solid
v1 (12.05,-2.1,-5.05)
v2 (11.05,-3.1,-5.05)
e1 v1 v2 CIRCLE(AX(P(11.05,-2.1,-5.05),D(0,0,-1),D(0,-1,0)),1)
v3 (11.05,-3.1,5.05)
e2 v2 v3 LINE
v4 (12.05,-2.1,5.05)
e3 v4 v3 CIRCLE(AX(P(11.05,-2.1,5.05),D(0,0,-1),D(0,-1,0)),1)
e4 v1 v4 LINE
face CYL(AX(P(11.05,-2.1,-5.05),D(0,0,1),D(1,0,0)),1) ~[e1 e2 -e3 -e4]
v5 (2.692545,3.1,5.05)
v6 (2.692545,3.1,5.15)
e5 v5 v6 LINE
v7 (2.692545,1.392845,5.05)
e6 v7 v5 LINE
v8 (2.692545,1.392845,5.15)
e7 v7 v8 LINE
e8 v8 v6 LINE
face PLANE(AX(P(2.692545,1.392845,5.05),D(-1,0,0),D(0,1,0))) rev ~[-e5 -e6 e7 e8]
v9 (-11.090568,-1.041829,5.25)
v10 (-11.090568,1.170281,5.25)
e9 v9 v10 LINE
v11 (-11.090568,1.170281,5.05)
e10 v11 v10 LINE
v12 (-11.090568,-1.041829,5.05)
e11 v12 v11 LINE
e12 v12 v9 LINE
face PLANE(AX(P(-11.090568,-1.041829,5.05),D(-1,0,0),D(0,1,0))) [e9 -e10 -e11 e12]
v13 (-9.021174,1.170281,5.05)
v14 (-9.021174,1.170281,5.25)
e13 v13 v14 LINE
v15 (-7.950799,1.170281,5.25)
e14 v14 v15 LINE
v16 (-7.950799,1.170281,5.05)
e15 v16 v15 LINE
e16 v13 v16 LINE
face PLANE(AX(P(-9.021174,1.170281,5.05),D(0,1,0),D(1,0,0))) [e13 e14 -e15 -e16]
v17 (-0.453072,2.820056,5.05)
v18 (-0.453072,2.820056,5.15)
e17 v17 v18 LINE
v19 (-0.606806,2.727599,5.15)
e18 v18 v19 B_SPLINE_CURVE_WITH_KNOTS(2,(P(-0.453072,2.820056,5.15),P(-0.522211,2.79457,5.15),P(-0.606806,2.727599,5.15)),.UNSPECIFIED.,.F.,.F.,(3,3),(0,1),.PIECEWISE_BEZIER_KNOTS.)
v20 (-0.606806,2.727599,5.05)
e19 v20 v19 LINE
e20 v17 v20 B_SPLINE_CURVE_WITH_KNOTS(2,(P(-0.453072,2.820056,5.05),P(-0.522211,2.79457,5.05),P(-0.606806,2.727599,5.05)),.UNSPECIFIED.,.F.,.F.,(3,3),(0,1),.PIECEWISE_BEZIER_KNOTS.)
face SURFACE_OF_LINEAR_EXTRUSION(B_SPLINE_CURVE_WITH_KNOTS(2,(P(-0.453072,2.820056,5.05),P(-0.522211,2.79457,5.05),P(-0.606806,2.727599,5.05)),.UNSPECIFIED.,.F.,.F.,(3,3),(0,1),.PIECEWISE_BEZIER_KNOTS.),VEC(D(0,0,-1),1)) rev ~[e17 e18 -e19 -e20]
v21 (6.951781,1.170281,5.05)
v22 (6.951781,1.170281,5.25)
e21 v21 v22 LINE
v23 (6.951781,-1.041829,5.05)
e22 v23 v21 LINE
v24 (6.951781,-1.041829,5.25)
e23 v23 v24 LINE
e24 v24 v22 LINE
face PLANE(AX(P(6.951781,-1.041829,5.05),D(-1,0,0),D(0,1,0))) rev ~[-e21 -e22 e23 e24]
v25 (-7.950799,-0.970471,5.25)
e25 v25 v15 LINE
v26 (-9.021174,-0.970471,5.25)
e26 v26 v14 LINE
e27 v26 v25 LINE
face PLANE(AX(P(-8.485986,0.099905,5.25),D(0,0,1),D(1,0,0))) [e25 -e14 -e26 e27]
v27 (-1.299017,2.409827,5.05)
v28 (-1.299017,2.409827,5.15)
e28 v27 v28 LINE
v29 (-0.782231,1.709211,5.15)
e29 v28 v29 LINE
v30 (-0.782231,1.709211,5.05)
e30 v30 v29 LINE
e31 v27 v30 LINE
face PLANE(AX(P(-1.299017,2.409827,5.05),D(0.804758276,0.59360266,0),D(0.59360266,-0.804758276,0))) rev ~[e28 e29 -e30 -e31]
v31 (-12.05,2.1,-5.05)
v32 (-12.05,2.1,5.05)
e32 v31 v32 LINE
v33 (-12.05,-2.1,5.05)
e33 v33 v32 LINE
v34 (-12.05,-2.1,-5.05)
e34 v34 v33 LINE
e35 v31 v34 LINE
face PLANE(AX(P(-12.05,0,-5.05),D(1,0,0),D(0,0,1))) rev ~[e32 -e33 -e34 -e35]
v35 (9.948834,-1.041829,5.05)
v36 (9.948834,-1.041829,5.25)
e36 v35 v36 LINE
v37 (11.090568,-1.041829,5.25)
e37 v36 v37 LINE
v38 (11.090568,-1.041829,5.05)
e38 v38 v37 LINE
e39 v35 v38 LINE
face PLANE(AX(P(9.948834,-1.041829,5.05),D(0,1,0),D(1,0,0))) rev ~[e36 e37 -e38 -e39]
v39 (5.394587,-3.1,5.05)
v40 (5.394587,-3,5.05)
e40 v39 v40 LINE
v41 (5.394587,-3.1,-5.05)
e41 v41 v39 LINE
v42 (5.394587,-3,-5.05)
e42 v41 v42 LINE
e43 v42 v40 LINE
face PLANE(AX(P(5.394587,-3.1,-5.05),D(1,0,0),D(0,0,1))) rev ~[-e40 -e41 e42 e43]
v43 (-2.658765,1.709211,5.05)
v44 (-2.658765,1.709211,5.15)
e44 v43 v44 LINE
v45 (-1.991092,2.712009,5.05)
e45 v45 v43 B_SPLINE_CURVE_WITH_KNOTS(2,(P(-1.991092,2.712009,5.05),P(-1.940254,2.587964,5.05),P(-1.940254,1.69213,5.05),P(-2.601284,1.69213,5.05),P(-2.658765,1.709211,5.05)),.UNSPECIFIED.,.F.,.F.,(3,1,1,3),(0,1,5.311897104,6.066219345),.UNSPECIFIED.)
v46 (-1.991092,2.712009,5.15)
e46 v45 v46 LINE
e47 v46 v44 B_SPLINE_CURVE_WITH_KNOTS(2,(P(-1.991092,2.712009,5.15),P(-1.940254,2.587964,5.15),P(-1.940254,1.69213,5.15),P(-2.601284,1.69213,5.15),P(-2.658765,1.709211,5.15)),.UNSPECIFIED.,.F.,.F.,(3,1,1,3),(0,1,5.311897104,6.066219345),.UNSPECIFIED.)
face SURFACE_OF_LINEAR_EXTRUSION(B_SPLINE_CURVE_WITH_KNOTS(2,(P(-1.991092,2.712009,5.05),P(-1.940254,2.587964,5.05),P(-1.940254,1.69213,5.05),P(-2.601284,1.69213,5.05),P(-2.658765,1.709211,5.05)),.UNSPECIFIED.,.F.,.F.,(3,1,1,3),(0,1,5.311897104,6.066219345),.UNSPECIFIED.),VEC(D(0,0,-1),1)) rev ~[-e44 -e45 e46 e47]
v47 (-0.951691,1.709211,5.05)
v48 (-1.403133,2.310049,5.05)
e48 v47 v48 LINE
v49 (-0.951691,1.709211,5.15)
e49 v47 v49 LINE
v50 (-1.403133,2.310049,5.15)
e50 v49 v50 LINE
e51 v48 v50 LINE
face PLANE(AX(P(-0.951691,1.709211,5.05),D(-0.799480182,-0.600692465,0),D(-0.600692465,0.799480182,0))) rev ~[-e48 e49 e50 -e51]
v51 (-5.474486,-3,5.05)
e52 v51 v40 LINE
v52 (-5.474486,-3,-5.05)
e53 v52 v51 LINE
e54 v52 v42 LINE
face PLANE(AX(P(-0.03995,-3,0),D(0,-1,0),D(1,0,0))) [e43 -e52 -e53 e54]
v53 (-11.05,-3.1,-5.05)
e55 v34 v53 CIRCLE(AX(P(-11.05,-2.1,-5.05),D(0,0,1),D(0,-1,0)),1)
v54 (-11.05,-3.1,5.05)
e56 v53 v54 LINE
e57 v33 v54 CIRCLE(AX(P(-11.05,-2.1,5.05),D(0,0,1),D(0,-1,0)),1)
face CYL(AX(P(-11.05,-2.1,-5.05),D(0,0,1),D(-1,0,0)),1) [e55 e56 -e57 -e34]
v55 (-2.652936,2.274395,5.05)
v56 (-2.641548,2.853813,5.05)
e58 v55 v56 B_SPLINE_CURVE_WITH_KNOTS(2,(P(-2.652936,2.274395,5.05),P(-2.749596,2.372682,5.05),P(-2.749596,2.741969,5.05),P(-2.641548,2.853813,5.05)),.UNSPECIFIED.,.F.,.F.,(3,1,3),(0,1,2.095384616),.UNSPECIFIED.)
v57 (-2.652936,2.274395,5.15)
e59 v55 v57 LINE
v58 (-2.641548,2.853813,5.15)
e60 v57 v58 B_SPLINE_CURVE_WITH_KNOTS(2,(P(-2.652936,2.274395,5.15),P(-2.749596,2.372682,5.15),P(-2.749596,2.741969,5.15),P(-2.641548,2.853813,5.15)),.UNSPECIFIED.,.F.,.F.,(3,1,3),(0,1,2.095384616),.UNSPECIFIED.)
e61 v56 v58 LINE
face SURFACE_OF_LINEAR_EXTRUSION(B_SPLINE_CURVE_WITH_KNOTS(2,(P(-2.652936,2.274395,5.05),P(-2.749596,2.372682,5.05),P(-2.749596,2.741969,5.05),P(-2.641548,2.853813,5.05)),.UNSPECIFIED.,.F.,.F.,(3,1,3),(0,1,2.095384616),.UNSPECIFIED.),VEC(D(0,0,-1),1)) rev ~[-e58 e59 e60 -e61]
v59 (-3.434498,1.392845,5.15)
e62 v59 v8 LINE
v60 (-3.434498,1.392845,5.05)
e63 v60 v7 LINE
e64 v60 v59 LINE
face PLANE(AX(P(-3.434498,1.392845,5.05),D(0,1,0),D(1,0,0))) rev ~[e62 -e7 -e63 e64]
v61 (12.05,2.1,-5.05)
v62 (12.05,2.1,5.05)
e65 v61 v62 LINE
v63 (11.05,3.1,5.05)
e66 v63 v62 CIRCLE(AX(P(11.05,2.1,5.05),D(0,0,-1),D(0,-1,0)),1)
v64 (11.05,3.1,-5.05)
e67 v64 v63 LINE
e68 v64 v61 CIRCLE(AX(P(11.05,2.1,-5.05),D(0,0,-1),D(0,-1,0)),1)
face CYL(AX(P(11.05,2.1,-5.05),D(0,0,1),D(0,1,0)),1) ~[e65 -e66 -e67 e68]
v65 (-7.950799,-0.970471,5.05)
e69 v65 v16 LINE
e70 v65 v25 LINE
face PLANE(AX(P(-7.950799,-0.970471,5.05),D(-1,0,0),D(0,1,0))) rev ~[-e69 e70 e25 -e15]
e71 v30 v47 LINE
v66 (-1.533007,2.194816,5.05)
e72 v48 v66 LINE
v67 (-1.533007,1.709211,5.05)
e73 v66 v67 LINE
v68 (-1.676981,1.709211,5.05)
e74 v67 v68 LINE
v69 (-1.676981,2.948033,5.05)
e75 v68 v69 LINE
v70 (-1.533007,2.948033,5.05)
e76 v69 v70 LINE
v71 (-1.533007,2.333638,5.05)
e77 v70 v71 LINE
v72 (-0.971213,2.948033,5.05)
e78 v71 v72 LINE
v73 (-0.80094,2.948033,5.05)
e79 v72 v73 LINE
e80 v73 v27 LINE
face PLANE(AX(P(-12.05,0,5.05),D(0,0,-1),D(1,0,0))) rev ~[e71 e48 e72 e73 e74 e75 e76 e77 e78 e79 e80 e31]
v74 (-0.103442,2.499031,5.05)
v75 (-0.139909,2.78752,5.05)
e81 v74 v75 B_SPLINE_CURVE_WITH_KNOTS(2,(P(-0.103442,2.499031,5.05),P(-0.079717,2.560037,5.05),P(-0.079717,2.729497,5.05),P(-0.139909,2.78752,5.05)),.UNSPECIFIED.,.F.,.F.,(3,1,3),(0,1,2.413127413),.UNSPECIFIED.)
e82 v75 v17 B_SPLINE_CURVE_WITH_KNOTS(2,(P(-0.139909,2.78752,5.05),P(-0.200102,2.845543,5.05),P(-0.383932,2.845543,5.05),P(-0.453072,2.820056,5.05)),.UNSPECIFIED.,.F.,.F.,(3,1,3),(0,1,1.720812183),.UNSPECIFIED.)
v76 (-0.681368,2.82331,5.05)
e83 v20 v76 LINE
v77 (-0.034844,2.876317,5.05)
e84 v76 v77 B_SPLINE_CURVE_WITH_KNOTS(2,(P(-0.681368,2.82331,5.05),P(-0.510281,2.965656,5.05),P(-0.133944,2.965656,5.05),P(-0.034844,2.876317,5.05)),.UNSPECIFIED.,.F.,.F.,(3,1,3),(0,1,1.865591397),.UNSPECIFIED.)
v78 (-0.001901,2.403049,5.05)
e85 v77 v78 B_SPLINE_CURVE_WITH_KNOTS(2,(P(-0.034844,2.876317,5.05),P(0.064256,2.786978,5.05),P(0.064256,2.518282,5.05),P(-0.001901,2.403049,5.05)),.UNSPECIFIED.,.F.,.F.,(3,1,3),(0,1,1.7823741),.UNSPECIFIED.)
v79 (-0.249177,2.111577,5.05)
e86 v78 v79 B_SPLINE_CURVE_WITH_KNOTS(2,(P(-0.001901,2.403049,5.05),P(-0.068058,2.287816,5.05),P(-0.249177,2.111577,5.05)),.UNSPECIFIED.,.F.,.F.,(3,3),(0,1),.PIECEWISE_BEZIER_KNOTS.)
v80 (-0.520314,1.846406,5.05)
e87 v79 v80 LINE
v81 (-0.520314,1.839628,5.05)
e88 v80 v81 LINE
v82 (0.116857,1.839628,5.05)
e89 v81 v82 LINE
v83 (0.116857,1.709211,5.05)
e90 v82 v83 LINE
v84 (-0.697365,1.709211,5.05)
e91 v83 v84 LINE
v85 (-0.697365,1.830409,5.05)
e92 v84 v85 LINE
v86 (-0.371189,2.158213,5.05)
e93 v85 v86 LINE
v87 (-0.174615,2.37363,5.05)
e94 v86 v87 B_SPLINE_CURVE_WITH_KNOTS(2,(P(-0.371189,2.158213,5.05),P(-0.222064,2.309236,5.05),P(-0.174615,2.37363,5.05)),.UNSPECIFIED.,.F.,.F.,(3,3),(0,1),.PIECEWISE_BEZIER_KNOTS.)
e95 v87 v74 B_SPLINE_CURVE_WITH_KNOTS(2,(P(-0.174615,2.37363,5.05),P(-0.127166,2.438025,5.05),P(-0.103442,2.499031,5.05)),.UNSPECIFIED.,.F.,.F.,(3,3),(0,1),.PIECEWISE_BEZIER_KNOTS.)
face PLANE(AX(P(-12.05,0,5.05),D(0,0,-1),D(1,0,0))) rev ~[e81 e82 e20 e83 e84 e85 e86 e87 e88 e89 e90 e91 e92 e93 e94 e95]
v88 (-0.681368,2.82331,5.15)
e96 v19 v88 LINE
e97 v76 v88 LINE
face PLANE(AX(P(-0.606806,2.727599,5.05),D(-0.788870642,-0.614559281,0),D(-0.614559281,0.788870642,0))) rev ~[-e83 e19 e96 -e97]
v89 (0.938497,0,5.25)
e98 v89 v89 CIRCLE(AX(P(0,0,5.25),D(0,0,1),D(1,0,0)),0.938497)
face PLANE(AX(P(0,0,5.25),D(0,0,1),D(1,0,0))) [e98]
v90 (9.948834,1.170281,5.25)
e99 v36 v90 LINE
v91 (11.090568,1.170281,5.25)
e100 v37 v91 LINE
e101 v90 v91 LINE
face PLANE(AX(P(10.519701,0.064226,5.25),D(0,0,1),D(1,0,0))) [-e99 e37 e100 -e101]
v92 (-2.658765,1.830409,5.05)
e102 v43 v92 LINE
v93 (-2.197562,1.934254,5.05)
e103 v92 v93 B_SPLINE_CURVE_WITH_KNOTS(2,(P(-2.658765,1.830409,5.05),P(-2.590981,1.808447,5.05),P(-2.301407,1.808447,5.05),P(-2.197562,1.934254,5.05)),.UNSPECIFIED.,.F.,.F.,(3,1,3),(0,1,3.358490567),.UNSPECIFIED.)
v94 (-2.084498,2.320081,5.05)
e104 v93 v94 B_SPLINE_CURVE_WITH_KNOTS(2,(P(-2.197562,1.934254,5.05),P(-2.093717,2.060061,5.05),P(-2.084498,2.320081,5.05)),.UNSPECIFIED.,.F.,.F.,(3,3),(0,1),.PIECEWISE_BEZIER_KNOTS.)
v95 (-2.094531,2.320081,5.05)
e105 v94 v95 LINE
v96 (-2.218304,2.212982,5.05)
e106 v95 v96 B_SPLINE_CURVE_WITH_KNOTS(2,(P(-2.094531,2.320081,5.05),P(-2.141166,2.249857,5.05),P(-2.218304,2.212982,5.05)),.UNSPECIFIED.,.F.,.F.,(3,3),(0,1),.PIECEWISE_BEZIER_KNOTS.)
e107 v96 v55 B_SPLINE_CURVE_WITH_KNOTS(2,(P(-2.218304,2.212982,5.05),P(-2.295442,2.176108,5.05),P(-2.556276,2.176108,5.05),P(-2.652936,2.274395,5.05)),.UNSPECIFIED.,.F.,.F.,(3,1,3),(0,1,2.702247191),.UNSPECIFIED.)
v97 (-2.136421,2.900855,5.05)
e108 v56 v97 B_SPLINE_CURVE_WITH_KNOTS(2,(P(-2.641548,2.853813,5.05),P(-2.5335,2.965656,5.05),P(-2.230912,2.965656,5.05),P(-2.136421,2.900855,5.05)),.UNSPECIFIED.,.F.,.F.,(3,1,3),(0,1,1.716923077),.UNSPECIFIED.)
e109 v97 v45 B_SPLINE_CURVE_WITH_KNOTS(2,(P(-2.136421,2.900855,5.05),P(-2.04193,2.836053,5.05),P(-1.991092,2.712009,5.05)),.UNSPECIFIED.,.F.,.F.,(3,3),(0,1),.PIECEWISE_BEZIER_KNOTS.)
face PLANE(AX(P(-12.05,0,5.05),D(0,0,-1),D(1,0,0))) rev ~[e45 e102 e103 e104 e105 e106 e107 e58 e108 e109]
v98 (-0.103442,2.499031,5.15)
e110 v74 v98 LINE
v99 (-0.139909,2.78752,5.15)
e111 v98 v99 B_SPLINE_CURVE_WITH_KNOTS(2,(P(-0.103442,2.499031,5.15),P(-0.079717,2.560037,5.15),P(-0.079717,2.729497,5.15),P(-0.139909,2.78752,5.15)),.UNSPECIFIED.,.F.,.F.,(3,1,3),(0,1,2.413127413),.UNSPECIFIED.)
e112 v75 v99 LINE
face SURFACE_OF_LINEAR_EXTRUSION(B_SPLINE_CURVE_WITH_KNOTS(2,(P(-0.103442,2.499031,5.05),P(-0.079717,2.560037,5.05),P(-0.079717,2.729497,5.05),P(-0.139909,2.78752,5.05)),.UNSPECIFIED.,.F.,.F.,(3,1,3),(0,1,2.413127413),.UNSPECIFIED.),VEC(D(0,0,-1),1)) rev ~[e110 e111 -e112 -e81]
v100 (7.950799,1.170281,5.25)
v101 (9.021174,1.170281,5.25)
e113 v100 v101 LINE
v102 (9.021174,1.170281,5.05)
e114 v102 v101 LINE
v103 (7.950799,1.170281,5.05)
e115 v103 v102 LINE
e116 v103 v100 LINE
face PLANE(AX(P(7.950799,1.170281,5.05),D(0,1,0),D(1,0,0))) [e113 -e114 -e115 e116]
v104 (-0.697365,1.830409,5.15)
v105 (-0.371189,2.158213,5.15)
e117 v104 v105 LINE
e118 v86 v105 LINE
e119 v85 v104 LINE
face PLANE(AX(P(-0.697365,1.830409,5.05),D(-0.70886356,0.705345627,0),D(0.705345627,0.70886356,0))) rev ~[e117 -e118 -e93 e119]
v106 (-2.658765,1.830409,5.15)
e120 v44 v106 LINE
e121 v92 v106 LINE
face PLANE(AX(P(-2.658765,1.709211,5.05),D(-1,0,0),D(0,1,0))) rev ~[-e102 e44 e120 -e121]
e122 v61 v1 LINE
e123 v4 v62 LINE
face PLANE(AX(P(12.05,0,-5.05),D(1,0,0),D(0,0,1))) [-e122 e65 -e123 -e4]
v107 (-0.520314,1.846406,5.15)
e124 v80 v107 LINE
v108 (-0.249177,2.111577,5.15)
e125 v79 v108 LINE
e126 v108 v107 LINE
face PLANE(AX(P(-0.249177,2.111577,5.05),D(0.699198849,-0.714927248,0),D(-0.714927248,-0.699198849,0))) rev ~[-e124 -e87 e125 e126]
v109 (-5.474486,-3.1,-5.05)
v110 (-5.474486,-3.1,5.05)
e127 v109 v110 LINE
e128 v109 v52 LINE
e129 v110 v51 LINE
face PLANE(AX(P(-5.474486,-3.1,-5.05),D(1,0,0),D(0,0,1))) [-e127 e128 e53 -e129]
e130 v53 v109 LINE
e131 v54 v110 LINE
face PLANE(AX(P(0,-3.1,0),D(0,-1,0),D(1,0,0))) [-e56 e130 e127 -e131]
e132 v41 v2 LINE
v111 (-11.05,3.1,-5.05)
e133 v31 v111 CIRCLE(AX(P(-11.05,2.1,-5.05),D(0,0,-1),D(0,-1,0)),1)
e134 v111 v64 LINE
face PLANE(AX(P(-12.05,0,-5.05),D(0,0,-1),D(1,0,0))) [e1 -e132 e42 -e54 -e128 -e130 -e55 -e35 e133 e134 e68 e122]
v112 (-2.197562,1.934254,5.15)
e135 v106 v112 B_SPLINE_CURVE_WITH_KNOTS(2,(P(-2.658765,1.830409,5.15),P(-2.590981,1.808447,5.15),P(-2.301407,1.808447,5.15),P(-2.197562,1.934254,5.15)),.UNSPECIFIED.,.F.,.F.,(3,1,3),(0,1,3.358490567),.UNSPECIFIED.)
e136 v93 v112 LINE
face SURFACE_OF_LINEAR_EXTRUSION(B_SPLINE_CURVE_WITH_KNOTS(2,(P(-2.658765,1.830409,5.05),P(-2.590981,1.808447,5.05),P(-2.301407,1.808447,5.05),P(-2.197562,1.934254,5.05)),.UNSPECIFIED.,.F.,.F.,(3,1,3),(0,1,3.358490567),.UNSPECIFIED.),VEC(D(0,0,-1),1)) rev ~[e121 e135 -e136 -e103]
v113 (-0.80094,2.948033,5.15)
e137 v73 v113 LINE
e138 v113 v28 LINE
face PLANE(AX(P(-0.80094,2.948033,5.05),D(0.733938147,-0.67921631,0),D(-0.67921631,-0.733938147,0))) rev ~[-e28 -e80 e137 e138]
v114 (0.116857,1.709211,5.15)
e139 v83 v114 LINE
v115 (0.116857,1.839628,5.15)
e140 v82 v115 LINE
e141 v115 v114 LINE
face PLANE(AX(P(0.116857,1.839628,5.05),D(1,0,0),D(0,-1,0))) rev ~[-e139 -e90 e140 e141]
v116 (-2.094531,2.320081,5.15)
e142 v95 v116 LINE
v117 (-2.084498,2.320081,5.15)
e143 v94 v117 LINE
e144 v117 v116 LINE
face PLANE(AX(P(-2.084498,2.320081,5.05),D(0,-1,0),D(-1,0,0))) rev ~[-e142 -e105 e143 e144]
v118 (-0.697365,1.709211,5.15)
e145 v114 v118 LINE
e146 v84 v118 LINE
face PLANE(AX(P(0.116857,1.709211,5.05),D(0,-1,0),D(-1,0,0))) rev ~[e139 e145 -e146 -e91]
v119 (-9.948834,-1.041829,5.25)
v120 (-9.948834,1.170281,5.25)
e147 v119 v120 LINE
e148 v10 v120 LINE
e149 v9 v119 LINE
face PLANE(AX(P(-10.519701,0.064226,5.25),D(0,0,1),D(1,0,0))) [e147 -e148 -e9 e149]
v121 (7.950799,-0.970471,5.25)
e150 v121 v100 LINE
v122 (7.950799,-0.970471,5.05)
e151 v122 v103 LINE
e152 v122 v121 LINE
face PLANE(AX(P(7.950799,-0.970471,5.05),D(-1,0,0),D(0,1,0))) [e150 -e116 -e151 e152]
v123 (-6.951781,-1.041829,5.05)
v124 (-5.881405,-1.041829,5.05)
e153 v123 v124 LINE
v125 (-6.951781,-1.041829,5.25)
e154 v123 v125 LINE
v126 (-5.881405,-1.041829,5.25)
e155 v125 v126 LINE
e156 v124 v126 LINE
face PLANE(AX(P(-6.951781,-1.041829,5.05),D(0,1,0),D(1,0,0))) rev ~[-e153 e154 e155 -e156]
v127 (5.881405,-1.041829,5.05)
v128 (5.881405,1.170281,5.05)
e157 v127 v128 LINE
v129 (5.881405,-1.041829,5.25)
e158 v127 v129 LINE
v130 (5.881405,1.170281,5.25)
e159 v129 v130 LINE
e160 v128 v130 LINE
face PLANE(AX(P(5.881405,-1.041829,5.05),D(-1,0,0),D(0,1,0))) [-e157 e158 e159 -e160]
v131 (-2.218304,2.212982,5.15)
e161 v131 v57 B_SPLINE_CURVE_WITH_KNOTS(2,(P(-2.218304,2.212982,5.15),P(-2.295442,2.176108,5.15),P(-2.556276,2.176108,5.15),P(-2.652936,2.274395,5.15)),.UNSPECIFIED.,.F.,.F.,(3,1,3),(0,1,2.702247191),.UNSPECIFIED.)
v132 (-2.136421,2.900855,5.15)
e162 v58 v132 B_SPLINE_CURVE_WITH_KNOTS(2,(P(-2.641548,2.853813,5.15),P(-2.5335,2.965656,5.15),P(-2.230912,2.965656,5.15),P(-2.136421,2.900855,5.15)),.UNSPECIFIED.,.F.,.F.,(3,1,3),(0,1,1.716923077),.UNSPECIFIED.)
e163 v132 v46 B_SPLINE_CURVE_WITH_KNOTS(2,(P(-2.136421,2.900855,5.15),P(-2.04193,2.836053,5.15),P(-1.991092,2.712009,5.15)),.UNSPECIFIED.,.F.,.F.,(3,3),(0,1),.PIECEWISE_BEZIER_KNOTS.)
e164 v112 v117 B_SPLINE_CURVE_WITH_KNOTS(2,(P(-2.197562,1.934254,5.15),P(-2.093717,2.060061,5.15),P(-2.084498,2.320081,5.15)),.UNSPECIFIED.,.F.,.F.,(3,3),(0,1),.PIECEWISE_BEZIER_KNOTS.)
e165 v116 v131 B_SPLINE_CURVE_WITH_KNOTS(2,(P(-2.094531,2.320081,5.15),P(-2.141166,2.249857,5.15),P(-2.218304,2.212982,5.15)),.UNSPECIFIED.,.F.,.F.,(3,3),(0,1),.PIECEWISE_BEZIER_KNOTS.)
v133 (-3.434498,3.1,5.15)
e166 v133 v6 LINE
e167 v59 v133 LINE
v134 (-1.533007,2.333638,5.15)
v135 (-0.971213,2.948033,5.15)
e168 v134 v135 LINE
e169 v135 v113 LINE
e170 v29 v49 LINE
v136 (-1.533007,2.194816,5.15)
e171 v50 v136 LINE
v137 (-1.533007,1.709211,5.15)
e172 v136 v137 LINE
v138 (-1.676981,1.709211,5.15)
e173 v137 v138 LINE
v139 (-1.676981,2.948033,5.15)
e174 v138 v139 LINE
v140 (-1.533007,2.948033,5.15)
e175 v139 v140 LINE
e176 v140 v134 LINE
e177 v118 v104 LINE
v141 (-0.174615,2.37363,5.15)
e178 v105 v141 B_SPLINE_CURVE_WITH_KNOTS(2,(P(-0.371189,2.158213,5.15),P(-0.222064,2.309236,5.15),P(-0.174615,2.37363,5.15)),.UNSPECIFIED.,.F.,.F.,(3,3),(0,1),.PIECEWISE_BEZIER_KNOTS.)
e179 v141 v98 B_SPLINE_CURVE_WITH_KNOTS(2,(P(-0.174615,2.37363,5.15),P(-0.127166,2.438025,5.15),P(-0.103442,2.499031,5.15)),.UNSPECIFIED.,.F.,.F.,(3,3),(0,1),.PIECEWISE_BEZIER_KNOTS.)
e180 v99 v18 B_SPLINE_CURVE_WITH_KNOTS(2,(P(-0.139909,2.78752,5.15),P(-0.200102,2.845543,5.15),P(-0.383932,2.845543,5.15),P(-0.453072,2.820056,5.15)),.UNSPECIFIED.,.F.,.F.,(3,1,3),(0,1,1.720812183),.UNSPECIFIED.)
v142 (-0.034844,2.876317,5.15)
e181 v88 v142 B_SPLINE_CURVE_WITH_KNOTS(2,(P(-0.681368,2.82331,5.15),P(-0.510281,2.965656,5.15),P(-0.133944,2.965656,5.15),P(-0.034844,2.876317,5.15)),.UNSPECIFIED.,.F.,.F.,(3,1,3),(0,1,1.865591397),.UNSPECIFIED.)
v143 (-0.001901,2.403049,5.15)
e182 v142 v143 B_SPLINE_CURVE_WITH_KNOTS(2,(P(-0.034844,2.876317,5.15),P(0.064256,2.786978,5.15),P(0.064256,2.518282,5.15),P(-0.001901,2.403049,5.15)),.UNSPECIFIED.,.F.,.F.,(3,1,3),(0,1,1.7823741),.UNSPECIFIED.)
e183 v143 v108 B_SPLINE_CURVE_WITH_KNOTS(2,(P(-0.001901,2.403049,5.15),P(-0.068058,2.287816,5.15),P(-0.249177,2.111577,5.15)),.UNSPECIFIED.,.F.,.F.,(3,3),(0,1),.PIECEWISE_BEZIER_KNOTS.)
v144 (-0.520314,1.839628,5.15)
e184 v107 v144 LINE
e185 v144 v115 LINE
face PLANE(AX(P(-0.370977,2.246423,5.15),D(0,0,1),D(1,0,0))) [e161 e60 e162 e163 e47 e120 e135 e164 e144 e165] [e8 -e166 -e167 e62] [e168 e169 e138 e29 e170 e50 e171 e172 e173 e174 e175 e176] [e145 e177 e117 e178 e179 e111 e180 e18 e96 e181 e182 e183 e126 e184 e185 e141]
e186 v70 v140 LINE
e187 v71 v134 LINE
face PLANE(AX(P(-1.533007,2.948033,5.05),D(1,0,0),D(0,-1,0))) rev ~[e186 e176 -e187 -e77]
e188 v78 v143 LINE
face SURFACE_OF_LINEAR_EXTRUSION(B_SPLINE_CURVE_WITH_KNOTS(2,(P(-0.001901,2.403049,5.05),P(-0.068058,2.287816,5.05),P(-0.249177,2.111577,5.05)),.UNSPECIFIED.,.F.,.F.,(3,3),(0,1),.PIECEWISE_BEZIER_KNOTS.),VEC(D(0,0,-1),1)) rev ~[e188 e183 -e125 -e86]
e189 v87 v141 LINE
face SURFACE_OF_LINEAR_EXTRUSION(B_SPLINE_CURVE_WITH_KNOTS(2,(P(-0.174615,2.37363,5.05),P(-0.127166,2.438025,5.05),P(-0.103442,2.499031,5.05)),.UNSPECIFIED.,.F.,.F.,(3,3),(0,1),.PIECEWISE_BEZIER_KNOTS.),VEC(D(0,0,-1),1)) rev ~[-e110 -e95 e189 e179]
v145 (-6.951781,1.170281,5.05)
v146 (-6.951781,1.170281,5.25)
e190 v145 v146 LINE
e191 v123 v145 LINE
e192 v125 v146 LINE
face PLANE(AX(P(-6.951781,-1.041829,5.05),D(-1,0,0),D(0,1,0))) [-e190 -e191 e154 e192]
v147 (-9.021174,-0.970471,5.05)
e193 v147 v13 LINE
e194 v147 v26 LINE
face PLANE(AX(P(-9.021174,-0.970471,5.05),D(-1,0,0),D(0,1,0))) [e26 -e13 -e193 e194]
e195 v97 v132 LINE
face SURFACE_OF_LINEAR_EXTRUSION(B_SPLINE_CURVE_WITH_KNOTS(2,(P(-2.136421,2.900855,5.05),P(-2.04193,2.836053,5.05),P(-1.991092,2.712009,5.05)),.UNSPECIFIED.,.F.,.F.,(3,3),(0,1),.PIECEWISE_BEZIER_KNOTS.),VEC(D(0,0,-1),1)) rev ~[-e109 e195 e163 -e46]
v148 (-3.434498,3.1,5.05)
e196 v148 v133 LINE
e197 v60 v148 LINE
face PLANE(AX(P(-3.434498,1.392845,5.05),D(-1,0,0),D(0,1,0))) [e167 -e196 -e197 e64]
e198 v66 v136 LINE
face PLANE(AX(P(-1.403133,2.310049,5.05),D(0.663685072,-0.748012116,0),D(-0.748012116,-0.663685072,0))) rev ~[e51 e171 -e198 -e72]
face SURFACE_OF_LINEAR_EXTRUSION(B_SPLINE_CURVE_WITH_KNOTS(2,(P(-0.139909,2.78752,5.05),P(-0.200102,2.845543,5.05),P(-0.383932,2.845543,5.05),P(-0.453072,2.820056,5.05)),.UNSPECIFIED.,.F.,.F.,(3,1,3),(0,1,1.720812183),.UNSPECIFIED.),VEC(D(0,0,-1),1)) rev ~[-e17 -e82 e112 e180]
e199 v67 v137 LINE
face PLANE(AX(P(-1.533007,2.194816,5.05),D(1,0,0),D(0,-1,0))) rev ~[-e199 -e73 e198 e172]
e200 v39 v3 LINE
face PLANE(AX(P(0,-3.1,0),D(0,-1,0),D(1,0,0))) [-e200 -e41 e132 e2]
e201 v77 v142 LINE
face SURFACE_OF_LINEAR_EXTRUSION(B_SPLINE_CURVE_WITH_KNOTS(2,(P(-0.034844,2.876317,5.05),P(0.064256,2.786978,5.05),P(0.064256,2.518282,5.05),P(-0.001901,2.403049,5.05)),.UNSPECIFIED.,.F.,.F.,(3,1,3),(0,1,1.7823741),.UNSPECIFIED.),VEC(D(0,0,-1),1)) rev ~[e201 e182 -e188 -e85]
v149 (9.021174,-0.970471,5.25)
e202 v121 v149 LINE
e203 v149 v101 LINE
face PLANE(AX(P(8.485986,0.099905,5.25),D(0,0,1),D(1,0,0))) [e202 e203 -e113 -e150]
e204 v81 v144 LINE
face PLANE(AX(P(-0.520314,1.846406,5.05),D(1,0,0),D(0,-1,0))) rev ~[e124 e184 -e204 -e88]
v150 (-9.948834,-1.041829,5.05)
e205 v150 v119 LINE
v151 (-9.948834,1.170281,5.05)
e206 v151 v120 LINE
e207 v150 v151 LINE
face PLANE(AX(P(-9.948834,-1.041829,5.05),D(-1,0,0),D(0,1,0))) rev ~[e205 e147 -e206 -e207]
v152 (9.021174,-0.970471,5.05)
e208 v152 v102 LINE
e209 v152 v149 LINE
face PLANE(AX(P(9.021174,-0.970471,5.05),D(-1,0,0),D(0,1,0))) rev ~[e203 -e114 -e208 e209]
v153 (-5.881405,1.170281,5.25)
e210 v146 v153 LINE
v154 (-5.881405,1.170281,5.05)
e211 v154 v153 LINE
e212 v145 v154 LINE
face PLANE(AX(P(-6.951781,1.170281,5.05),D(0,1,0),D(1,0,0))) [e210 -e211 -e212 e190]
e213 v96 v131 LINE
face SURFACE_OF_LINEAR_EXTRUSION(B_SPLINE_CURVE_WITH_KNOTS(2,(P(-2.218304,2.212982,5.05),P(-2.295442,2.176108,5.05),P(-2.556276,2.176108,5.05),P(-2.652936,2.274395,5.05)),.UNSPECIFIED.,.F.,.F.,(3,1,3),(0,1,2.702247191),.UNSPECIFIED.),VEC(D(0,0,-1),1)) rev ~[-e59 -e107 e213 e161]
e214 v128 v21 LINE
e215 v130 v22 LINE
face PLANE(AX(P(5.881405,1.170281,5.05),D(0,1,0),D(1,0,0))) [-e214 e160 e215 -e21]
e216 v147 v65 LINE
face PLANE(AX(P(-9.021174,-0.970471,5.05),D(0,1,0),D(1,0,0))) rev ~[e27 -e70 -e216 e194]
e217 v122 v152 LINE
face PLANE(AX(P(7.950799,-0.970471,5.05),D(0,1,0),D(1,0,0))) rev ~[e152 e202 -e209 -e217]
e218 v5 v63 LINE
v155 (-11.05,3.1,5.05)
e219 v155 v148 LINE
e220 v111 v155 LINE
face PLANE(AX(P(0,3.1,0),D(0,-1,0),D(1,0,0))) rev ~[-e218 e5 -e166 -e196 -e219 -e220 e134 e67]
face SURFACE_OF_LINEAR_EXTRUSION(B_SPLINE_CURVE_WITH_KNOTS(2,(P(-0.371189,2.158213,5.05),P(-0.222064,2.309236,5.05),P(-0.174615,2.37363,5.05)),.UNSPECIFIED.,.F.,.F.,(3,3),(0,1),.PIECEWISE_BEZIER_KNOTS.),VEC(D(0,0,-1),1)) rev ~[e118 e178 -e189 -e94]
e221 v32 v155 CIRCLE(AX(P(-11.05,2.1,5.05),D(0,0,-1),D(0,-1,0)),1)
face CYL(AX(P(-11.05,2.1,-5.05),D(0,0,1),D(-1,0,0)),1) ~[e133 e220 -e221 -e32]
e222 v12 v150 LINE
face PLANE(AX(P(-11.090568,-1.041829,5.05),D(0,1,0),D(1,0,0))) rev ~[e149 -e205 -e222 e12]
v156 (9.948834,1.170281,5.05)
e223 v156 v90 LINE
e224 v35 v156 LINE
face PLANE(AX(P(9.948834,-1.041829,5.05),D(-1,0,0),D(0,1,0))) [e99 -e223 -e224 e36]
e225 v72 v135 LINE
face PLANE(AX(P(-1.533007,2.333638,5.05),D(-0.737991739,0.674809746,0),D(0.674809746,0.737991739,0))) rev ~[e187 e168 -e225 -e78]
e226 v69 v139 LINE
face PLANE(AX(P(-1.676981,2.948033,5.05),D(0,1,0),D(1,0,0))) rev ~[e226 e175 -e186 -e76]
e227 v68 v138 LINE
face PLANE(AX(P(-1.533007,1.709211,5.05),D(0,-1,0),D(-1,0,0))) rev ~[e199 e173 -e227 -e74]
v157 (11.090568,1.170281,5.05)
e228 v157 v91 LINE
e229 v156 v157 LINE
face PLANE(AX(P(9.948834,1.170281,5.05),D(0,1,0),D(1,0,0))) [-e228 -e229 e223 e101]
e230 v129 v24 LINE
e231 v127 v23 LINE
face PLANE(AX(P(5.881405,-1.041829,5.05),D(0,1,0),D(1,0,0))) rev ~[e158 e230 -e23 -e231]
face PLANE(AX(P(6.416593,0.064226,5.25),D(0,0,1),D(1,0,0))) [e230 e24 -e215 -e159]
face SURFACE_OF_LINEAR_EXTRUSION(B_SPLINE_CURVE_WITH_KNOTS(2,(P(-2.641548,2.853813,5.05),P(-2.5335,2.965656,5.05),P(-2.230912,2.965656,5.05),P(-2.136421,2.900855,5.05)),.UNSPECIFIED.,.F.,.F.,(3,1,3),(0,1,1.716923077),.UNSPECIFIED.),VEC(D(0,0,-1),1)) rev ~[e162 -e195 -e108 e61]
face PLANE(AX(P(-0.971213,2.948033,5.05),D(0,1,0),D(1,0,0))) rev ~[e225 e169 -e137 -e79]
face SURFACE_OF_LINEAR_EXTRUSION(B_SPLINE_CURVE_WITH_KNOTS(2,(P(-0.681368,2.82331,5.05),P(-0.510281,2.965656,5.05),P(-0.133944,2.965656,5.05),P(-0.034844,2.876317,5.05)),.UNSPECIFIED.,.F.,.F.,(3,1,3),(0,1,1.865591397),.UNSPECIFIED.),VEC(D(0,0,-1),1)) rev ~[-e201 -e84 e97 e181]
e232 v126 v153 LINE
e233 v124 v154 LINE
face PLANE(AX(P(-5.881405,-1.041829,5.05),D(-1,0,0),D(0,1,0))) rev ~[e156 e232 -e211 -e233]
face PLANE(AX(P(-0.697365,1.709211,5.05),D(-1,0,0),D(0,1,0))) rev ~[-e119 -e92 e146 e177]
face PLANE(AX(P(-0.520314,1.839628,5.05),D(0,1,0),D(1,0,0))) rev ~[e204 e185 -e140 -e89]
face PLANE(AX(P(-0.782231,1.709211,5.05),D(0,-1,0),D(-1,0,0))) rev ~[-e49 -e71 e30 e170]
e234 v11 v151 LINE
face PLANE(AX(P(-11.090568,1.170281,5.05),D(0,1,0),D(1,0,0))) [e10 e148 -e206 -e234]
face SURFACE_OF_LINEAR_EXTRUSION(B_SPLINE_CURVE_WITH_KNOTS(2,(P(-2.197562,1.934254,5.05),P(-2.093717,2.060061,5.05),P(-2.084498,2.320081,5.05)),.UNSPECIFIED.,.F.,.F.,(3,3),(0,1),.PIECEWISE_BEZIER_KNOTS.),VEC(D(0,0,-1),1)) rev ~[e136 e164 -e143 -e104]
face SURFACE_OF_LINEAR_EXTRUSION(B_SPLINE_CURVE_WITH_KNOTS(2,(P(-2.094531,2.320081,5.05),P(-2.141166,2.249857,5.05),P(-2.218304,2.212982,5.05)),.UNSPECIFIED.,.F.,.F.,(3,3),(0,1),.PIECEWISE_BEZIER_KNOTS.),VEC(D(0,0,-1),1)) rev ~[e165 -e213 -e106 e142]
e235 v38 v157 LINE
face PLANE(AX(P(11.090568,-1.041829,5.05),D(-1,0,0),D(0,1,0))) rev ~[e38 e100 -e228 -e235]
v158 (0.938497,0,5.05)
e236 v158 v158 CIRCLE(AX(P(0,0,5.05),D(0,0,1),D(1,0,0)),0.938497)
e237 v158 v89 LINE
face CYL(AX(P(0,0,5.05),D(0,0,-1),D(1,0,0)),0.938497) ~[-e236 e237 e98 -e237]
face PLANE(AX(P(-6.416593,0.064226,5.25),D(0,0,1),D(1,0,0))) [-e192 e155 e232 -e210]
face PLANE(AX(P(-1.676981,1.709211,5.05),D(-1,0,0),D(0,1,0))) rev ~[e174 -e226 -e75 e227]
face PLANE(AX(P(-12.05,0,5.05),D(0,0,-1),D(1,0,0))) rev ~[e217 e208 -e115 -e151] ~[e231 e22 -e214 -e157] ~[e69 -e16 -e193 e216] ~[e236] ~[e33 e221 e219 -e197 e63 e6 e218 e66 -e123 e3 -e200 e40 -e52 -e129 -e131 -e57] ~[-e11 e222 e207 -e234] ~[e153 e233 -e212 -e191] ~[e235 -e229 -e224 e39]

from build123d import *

# Parameters (mm, degrees)
F0_W      = 24.1
F0_H      = 10.1
F1_DEPTH  = 3.1
F2_W      = 1.1417344213
F2_H      = 2.2121103248
F2_W_2    = 1.0703755543
F2_H_2    = 2.1407519816
F2_W_3    = 1.0703760199
F2_R      = 0.9384971682
F3_DEPTH  = 0.2
F4_R      = 1
F5_R      = 1
F6_R      = 1
F7_R      = 1
F8_W      = 10.8690736815
F8_H      = 10.1
F9_DEPTH  = 0.1
F10_W     = 6.1270436272
F10_H     = 1.7071549356
F11_DEPTH = 0.1


with BuildPart() as f1:
    # F0 (on Front) → F1 (new body, symmetric)
    with BuildSketch(Plane.XZ):
        Rectangle(F0_W, F0_H)
    extrude(amount=F1_DEPTH, both=True)

    # F2 (on face) → F3 (join)
    with BuildSketch(Plane.XY.offset(5.05)):
        with Locations((-10.5197010562, 0.0642262748)):
            Rectangle(F2_W, F2_H)
        with Locations((-8.4859863855, 0.0999054464)):
            Rectangle(F2_W_2, F2_H_2)
        with Locations((-6.4165925141, 0.0642262748)):
            Rectangle(F2_W_3, F2_H)
        with Locations((6.4165925141, 0.0642262748)):
            Rectangle(F2_W_3, F2_H)
        with Locations((8.4859863855, 0.0999054464)):
            Rectangle(F2_W_2, F2_H_2)
        with Locations((10.5197010562, 0.0642262748)):
            Rectangle(F2_W, F2_H)
        Circle(F2_R)
    extrude(amount=F3_DEPTH)

    # F4
    f4_edges = [f1.edges().sort_by_distance(p)[0] for p in [
        (-12.05, 3.1, 0),
    ]]
    fillet(f4_edges, radius=F4_R)

    # F5
    f5_edges = [f1.edges().sort_by_distance(p)[0] for p in [
        (-12.05, -3.1, 0),
    ]]
    fillet(f5_edges, radius=F5_R)

    # F6
    f6_edges = [f1.edges().sort_by_distance(p)[0] for p in [
        (12.05, 3.1, 0),
    ]]
    fillet(f6_edges, radius=F6_R)

    # F7
    f7_edges = [f1.edges().sort_by_distance(p)[0] for p in [
        (12.05, -3.1, 0),
    ]]
    fillet(f7_edges, radius=F7_R)

    # F8 (on face) → F9 (cut)
    with BuildSketch(Plane.XZ.offset(3.1)):
        with Locations((-0.0399495475, 0)):
            Rectangle(F8_W, F8_H)
    extrude(amount=-F9_DEPTH, mode=Mode.SUBTRACT)

    # F10 (on face) → F11 (join)
    with BuildSketch(Plane.XY.offset(5.05)):
        with Locations((-0.3709765151, 2.2464225322)):
            Rectangle(F10_W, F10_H)
        with BuildLine():
            add(Edge.make_bspline(
                [(-1.9910920446, 2.7120085217), (-1.9402540003, 2.5879636937), (-1.9402540003, 2.4193169547)],
                knots=[0, 0, 0, 1, 1, 1], degree=2))
            add(Edge.make_bspline(
                [(-1.9402540003, 2.4193169547), (-1.9402540003, 1.6921295692), (-2.5028616905, 1.6921295692)],
                knots=[0, 0, 0, 1, 1, 1], degree=2))
            add(Edge.make_bspline(
                [(-2.5028616905, 1.6921295692), (-2.6012841443, 1.6921295692), (-2.6587650264, 1.709211152)],
                knots=[0, 0, 0, 1, 1, 1], degree=2))
            Line((-2.6587650264, 1.709211152), (-2.6587650264, 1.8304090496))
            add(Edge.make_bspline(
                [(-2.6587650264, 1.8304090496), (-2.5909809673, 1.8084470145), (-2.5047596442, 1.8084470145)],
                knots=[0, 0, 0, 1, 1, 1], degree=2))
            add(Edge.make_bspline(
                [(-2.5047596442, 1.8084470145), (-2.301407467, 1.8084470145), (-2.1975622885, 1.9342542281)],
                knots=[0, 0, 0, 1, 1, 1], degree=2))
            add(Edge.make_bspline(
                [(-2.1975622885, 1.9342542281), (-2.0937171101, 2.0600614417), (-2.084498478, 2.3200810923)],
                knots=[0, 0, 0, 1, 1, 1], degree=2))
            Line((-2.084498478, 2.3200810923), (-2.0945305188, 2.3200810923))
            add(Edge.make_bspline(
                [(-2.0945305188, 2.3200810923), (-2.1411659514, 2.2498568071), (-2.2183042106, 2.212982279)],
                knots=[0, 0, 0, 1, 1, 1], degree=2))
            add(Edge.make_bspline(
                [(-2.2183042106, 2.212982279), (-2.2954424698, 2.1761077508), (-2.3919669699, 2.1761077508)],
                knots=[0, 0, 0, 1, 1, 1], degree=2))
            add(Edge.make_bspline(
                [(-2.3919669699, 2.1761077508), (-2.5562755291, 2.1761077508), (-2.6529355973, 2.2743946365)],
                knots=[0, 0, 0, 1, 1, 1], degree=2))
            add(Edge.make_bspline(
                [(-2.6529355973, 2.2743946365), (-2.7495956655, 2.3726815221), (-2.7495956655, 2.5489200756)],
                knots=[0, 0, 0, 1, 1, 1], degree=2))
            add(Edge.make_bspline(
                [(-2.7495956655, 2.5489200756), (-2.7495956655, 2.7419690758), (-2.6415478754, 2.8538127733)],
                knots=[0, 0, 0, 1, 1, 1], degree=2))
            add(Edge.make_bspline(
                [(-2.6415478754, 2.8538127733), (-2.5335000852, 2.9656564707), (-2.3572615317, 2.9656564707)],
                knots=[0, 0, 0, 1, 1, 1], degree=2))
            add(Edge.make_bspline(
                [(-2.3572615317, 2.9656564707), (-2.2309120456, 2.9656564707), (-2.1364210673, 2.9008549103)],
                knots=[0, 0, 0, 1, 1, 1], degree=2))
            add(Edge.make_bspline(
                [(-2.1364210673, 2.9008549103), (-2.0419300889, 2.8360533498), (-1.9910920446, 2.7120085217)],
                knots=[0, 0, 0, 1, 1, 1], degree=2))
        make_face(mode=Mode.SUBTRACT)
        Polygon((-1.2990168017, 2.4098271865), (-0.7822311354, 1.709211152), (-0.9516912831, 1.709211152), (-1.4031331164, 2.3100490515), (-1.5330073735, 2.1948161511), (-1.5330073735, 1.709211152), (-1.676980715, 1.709211152), (-1.676980715, 2.9480326154), (-1.5330073735, 2.9480326154), (-1.5330073735, 2.3336379041), (-0.9712130921, 2.9480326154), (-0.8009395357, 2.9480326154), align=None, mode=Mode.SUBTRACT)
        with BuildLine():
            Line((0.1168566239, 1.8396276817), (0.1168566239, 1.709211152))
            Line((0.1168566239, 1.709211152), (-0.6973654935, 1.709211152))
            Line((-0.6973654935, 1.709211152), (-0.6973654935, 1.8304090496))
            Line((-0.6973654935, 1.8304090496), (-0.3711886013, 2.1582127592))
            add(Edge.make_bspline(
                [(-0.3711886013, 2.1582127592), (-0.2220636714, 2.3092356428), (-0.17461483, 2.3736304989)],
                knots=[0, 0, 0, 1, 1, 1], degree=2))
            add(Edge.make_bspline(
                [(-0.17461483, 2.3736304989), (-0.1271659887, 2.438025355), (-0.103441568, 2.4990310082)],
                knots=[0, 0, 0, 1, 1, 1], degree=2))
            add(Edge.make_bspline(
                [(-0.103441568, 2.4990310082), (-0.0797171473, 2.5600366613), (-0.0797171473, 2.6302609465)],
                knots=[0, 0, 0, 1, 1, 1], degree=2))
            add(Edge.make_bspline(
                [(-0.0797171473, 2.6302609465), (-0.0797171473, 2.729496809), (-0.1399093918, 2.7875199635)],
                knots=[0, 0, 0, 1, 1, 1], degree=2))
            add(Edge.make_bspline(
                [(-0.1399093918, 2.7875199635), (-0.2001016362, 2.8455431181), (-0.3069293133, 2.8455431181)],
                knots=[0, 0, 0, 1, 1, 1], degree=2))
            add(Edge.make_bspline(
                [(-0.3069293133, 2.8455431181), (-0.3839320044, 2.8455431181), (-0.4530717446, 2.8200563119)],
                knots=[0, 0, 0, 1, 1, 1], degree=2))
            add(Edge.make_bspline(
                [(-0.4530717446, 2.8200563119), (-0.5222114849, 2.7945695057), (-0.6068059906, 2.7275988553)],
                knots=[0, 0, 0, 1, 1, 1], degree=2))
            Line((-0.6068059906, 2.7275988553), (-0.6813684555, 2.8233099467))
            add(Edge.make_bspline(
                [(-0.6813684555, 2.8233099467), (-0.5102814905, 2.9656564707), (-0.3085561307, 2.9656564707)],
                knots=[0, 0, 0, 1, 1, 1], degree=2))
            add(Edge.make_bspline(
                [(-0.3085561307, 2.9656564707), (-0.1339443946, 2.9656564707), (-0.0348441003, 2.8763170809)],
                knots=[0, 0, 0, 1, 1, 1], degree=2))
            add(Edge.make_bspline(
                [(-0.0348441003, 2.8763170809), (0.0642561941, 2.7869776911), (0.0642561941, 2.6362259437)],
                knots=[0, 0, 0, 1, 1, 1], degree=2))
            add(Edge.make_bspline(
                [(0.0642561941, 2.6362259437), (0.0642561941, 2.518281681), (-0.0019010476, 2.4030487806)],
                knots=[0, 0, 0, 1, 1, 1], degree=2))
            add(Edge.make_bspline(
                [(-0.0019010476, 2.4030487806), (-0.0680582892, 2.2878158802), (-0.249177295, 2.1115773266)],
                knots=[0, 0, 0, 1, 1, 1], degree=2))
            Line((-0.249177295, 2.1115773266), (-0.5203135312, 1.8464060876))
            Line((-0.5203135312, 1.8464060876), (-0.5203135312, 1.8396276817))
            Line((-0.5203135312, 1.8396276817), (0.1168566239, 1.8396276817))
        make_face(mode=Mode.SUBTRACT)
    extrude(amount=F11_DEPTH)


solid = f1.part
